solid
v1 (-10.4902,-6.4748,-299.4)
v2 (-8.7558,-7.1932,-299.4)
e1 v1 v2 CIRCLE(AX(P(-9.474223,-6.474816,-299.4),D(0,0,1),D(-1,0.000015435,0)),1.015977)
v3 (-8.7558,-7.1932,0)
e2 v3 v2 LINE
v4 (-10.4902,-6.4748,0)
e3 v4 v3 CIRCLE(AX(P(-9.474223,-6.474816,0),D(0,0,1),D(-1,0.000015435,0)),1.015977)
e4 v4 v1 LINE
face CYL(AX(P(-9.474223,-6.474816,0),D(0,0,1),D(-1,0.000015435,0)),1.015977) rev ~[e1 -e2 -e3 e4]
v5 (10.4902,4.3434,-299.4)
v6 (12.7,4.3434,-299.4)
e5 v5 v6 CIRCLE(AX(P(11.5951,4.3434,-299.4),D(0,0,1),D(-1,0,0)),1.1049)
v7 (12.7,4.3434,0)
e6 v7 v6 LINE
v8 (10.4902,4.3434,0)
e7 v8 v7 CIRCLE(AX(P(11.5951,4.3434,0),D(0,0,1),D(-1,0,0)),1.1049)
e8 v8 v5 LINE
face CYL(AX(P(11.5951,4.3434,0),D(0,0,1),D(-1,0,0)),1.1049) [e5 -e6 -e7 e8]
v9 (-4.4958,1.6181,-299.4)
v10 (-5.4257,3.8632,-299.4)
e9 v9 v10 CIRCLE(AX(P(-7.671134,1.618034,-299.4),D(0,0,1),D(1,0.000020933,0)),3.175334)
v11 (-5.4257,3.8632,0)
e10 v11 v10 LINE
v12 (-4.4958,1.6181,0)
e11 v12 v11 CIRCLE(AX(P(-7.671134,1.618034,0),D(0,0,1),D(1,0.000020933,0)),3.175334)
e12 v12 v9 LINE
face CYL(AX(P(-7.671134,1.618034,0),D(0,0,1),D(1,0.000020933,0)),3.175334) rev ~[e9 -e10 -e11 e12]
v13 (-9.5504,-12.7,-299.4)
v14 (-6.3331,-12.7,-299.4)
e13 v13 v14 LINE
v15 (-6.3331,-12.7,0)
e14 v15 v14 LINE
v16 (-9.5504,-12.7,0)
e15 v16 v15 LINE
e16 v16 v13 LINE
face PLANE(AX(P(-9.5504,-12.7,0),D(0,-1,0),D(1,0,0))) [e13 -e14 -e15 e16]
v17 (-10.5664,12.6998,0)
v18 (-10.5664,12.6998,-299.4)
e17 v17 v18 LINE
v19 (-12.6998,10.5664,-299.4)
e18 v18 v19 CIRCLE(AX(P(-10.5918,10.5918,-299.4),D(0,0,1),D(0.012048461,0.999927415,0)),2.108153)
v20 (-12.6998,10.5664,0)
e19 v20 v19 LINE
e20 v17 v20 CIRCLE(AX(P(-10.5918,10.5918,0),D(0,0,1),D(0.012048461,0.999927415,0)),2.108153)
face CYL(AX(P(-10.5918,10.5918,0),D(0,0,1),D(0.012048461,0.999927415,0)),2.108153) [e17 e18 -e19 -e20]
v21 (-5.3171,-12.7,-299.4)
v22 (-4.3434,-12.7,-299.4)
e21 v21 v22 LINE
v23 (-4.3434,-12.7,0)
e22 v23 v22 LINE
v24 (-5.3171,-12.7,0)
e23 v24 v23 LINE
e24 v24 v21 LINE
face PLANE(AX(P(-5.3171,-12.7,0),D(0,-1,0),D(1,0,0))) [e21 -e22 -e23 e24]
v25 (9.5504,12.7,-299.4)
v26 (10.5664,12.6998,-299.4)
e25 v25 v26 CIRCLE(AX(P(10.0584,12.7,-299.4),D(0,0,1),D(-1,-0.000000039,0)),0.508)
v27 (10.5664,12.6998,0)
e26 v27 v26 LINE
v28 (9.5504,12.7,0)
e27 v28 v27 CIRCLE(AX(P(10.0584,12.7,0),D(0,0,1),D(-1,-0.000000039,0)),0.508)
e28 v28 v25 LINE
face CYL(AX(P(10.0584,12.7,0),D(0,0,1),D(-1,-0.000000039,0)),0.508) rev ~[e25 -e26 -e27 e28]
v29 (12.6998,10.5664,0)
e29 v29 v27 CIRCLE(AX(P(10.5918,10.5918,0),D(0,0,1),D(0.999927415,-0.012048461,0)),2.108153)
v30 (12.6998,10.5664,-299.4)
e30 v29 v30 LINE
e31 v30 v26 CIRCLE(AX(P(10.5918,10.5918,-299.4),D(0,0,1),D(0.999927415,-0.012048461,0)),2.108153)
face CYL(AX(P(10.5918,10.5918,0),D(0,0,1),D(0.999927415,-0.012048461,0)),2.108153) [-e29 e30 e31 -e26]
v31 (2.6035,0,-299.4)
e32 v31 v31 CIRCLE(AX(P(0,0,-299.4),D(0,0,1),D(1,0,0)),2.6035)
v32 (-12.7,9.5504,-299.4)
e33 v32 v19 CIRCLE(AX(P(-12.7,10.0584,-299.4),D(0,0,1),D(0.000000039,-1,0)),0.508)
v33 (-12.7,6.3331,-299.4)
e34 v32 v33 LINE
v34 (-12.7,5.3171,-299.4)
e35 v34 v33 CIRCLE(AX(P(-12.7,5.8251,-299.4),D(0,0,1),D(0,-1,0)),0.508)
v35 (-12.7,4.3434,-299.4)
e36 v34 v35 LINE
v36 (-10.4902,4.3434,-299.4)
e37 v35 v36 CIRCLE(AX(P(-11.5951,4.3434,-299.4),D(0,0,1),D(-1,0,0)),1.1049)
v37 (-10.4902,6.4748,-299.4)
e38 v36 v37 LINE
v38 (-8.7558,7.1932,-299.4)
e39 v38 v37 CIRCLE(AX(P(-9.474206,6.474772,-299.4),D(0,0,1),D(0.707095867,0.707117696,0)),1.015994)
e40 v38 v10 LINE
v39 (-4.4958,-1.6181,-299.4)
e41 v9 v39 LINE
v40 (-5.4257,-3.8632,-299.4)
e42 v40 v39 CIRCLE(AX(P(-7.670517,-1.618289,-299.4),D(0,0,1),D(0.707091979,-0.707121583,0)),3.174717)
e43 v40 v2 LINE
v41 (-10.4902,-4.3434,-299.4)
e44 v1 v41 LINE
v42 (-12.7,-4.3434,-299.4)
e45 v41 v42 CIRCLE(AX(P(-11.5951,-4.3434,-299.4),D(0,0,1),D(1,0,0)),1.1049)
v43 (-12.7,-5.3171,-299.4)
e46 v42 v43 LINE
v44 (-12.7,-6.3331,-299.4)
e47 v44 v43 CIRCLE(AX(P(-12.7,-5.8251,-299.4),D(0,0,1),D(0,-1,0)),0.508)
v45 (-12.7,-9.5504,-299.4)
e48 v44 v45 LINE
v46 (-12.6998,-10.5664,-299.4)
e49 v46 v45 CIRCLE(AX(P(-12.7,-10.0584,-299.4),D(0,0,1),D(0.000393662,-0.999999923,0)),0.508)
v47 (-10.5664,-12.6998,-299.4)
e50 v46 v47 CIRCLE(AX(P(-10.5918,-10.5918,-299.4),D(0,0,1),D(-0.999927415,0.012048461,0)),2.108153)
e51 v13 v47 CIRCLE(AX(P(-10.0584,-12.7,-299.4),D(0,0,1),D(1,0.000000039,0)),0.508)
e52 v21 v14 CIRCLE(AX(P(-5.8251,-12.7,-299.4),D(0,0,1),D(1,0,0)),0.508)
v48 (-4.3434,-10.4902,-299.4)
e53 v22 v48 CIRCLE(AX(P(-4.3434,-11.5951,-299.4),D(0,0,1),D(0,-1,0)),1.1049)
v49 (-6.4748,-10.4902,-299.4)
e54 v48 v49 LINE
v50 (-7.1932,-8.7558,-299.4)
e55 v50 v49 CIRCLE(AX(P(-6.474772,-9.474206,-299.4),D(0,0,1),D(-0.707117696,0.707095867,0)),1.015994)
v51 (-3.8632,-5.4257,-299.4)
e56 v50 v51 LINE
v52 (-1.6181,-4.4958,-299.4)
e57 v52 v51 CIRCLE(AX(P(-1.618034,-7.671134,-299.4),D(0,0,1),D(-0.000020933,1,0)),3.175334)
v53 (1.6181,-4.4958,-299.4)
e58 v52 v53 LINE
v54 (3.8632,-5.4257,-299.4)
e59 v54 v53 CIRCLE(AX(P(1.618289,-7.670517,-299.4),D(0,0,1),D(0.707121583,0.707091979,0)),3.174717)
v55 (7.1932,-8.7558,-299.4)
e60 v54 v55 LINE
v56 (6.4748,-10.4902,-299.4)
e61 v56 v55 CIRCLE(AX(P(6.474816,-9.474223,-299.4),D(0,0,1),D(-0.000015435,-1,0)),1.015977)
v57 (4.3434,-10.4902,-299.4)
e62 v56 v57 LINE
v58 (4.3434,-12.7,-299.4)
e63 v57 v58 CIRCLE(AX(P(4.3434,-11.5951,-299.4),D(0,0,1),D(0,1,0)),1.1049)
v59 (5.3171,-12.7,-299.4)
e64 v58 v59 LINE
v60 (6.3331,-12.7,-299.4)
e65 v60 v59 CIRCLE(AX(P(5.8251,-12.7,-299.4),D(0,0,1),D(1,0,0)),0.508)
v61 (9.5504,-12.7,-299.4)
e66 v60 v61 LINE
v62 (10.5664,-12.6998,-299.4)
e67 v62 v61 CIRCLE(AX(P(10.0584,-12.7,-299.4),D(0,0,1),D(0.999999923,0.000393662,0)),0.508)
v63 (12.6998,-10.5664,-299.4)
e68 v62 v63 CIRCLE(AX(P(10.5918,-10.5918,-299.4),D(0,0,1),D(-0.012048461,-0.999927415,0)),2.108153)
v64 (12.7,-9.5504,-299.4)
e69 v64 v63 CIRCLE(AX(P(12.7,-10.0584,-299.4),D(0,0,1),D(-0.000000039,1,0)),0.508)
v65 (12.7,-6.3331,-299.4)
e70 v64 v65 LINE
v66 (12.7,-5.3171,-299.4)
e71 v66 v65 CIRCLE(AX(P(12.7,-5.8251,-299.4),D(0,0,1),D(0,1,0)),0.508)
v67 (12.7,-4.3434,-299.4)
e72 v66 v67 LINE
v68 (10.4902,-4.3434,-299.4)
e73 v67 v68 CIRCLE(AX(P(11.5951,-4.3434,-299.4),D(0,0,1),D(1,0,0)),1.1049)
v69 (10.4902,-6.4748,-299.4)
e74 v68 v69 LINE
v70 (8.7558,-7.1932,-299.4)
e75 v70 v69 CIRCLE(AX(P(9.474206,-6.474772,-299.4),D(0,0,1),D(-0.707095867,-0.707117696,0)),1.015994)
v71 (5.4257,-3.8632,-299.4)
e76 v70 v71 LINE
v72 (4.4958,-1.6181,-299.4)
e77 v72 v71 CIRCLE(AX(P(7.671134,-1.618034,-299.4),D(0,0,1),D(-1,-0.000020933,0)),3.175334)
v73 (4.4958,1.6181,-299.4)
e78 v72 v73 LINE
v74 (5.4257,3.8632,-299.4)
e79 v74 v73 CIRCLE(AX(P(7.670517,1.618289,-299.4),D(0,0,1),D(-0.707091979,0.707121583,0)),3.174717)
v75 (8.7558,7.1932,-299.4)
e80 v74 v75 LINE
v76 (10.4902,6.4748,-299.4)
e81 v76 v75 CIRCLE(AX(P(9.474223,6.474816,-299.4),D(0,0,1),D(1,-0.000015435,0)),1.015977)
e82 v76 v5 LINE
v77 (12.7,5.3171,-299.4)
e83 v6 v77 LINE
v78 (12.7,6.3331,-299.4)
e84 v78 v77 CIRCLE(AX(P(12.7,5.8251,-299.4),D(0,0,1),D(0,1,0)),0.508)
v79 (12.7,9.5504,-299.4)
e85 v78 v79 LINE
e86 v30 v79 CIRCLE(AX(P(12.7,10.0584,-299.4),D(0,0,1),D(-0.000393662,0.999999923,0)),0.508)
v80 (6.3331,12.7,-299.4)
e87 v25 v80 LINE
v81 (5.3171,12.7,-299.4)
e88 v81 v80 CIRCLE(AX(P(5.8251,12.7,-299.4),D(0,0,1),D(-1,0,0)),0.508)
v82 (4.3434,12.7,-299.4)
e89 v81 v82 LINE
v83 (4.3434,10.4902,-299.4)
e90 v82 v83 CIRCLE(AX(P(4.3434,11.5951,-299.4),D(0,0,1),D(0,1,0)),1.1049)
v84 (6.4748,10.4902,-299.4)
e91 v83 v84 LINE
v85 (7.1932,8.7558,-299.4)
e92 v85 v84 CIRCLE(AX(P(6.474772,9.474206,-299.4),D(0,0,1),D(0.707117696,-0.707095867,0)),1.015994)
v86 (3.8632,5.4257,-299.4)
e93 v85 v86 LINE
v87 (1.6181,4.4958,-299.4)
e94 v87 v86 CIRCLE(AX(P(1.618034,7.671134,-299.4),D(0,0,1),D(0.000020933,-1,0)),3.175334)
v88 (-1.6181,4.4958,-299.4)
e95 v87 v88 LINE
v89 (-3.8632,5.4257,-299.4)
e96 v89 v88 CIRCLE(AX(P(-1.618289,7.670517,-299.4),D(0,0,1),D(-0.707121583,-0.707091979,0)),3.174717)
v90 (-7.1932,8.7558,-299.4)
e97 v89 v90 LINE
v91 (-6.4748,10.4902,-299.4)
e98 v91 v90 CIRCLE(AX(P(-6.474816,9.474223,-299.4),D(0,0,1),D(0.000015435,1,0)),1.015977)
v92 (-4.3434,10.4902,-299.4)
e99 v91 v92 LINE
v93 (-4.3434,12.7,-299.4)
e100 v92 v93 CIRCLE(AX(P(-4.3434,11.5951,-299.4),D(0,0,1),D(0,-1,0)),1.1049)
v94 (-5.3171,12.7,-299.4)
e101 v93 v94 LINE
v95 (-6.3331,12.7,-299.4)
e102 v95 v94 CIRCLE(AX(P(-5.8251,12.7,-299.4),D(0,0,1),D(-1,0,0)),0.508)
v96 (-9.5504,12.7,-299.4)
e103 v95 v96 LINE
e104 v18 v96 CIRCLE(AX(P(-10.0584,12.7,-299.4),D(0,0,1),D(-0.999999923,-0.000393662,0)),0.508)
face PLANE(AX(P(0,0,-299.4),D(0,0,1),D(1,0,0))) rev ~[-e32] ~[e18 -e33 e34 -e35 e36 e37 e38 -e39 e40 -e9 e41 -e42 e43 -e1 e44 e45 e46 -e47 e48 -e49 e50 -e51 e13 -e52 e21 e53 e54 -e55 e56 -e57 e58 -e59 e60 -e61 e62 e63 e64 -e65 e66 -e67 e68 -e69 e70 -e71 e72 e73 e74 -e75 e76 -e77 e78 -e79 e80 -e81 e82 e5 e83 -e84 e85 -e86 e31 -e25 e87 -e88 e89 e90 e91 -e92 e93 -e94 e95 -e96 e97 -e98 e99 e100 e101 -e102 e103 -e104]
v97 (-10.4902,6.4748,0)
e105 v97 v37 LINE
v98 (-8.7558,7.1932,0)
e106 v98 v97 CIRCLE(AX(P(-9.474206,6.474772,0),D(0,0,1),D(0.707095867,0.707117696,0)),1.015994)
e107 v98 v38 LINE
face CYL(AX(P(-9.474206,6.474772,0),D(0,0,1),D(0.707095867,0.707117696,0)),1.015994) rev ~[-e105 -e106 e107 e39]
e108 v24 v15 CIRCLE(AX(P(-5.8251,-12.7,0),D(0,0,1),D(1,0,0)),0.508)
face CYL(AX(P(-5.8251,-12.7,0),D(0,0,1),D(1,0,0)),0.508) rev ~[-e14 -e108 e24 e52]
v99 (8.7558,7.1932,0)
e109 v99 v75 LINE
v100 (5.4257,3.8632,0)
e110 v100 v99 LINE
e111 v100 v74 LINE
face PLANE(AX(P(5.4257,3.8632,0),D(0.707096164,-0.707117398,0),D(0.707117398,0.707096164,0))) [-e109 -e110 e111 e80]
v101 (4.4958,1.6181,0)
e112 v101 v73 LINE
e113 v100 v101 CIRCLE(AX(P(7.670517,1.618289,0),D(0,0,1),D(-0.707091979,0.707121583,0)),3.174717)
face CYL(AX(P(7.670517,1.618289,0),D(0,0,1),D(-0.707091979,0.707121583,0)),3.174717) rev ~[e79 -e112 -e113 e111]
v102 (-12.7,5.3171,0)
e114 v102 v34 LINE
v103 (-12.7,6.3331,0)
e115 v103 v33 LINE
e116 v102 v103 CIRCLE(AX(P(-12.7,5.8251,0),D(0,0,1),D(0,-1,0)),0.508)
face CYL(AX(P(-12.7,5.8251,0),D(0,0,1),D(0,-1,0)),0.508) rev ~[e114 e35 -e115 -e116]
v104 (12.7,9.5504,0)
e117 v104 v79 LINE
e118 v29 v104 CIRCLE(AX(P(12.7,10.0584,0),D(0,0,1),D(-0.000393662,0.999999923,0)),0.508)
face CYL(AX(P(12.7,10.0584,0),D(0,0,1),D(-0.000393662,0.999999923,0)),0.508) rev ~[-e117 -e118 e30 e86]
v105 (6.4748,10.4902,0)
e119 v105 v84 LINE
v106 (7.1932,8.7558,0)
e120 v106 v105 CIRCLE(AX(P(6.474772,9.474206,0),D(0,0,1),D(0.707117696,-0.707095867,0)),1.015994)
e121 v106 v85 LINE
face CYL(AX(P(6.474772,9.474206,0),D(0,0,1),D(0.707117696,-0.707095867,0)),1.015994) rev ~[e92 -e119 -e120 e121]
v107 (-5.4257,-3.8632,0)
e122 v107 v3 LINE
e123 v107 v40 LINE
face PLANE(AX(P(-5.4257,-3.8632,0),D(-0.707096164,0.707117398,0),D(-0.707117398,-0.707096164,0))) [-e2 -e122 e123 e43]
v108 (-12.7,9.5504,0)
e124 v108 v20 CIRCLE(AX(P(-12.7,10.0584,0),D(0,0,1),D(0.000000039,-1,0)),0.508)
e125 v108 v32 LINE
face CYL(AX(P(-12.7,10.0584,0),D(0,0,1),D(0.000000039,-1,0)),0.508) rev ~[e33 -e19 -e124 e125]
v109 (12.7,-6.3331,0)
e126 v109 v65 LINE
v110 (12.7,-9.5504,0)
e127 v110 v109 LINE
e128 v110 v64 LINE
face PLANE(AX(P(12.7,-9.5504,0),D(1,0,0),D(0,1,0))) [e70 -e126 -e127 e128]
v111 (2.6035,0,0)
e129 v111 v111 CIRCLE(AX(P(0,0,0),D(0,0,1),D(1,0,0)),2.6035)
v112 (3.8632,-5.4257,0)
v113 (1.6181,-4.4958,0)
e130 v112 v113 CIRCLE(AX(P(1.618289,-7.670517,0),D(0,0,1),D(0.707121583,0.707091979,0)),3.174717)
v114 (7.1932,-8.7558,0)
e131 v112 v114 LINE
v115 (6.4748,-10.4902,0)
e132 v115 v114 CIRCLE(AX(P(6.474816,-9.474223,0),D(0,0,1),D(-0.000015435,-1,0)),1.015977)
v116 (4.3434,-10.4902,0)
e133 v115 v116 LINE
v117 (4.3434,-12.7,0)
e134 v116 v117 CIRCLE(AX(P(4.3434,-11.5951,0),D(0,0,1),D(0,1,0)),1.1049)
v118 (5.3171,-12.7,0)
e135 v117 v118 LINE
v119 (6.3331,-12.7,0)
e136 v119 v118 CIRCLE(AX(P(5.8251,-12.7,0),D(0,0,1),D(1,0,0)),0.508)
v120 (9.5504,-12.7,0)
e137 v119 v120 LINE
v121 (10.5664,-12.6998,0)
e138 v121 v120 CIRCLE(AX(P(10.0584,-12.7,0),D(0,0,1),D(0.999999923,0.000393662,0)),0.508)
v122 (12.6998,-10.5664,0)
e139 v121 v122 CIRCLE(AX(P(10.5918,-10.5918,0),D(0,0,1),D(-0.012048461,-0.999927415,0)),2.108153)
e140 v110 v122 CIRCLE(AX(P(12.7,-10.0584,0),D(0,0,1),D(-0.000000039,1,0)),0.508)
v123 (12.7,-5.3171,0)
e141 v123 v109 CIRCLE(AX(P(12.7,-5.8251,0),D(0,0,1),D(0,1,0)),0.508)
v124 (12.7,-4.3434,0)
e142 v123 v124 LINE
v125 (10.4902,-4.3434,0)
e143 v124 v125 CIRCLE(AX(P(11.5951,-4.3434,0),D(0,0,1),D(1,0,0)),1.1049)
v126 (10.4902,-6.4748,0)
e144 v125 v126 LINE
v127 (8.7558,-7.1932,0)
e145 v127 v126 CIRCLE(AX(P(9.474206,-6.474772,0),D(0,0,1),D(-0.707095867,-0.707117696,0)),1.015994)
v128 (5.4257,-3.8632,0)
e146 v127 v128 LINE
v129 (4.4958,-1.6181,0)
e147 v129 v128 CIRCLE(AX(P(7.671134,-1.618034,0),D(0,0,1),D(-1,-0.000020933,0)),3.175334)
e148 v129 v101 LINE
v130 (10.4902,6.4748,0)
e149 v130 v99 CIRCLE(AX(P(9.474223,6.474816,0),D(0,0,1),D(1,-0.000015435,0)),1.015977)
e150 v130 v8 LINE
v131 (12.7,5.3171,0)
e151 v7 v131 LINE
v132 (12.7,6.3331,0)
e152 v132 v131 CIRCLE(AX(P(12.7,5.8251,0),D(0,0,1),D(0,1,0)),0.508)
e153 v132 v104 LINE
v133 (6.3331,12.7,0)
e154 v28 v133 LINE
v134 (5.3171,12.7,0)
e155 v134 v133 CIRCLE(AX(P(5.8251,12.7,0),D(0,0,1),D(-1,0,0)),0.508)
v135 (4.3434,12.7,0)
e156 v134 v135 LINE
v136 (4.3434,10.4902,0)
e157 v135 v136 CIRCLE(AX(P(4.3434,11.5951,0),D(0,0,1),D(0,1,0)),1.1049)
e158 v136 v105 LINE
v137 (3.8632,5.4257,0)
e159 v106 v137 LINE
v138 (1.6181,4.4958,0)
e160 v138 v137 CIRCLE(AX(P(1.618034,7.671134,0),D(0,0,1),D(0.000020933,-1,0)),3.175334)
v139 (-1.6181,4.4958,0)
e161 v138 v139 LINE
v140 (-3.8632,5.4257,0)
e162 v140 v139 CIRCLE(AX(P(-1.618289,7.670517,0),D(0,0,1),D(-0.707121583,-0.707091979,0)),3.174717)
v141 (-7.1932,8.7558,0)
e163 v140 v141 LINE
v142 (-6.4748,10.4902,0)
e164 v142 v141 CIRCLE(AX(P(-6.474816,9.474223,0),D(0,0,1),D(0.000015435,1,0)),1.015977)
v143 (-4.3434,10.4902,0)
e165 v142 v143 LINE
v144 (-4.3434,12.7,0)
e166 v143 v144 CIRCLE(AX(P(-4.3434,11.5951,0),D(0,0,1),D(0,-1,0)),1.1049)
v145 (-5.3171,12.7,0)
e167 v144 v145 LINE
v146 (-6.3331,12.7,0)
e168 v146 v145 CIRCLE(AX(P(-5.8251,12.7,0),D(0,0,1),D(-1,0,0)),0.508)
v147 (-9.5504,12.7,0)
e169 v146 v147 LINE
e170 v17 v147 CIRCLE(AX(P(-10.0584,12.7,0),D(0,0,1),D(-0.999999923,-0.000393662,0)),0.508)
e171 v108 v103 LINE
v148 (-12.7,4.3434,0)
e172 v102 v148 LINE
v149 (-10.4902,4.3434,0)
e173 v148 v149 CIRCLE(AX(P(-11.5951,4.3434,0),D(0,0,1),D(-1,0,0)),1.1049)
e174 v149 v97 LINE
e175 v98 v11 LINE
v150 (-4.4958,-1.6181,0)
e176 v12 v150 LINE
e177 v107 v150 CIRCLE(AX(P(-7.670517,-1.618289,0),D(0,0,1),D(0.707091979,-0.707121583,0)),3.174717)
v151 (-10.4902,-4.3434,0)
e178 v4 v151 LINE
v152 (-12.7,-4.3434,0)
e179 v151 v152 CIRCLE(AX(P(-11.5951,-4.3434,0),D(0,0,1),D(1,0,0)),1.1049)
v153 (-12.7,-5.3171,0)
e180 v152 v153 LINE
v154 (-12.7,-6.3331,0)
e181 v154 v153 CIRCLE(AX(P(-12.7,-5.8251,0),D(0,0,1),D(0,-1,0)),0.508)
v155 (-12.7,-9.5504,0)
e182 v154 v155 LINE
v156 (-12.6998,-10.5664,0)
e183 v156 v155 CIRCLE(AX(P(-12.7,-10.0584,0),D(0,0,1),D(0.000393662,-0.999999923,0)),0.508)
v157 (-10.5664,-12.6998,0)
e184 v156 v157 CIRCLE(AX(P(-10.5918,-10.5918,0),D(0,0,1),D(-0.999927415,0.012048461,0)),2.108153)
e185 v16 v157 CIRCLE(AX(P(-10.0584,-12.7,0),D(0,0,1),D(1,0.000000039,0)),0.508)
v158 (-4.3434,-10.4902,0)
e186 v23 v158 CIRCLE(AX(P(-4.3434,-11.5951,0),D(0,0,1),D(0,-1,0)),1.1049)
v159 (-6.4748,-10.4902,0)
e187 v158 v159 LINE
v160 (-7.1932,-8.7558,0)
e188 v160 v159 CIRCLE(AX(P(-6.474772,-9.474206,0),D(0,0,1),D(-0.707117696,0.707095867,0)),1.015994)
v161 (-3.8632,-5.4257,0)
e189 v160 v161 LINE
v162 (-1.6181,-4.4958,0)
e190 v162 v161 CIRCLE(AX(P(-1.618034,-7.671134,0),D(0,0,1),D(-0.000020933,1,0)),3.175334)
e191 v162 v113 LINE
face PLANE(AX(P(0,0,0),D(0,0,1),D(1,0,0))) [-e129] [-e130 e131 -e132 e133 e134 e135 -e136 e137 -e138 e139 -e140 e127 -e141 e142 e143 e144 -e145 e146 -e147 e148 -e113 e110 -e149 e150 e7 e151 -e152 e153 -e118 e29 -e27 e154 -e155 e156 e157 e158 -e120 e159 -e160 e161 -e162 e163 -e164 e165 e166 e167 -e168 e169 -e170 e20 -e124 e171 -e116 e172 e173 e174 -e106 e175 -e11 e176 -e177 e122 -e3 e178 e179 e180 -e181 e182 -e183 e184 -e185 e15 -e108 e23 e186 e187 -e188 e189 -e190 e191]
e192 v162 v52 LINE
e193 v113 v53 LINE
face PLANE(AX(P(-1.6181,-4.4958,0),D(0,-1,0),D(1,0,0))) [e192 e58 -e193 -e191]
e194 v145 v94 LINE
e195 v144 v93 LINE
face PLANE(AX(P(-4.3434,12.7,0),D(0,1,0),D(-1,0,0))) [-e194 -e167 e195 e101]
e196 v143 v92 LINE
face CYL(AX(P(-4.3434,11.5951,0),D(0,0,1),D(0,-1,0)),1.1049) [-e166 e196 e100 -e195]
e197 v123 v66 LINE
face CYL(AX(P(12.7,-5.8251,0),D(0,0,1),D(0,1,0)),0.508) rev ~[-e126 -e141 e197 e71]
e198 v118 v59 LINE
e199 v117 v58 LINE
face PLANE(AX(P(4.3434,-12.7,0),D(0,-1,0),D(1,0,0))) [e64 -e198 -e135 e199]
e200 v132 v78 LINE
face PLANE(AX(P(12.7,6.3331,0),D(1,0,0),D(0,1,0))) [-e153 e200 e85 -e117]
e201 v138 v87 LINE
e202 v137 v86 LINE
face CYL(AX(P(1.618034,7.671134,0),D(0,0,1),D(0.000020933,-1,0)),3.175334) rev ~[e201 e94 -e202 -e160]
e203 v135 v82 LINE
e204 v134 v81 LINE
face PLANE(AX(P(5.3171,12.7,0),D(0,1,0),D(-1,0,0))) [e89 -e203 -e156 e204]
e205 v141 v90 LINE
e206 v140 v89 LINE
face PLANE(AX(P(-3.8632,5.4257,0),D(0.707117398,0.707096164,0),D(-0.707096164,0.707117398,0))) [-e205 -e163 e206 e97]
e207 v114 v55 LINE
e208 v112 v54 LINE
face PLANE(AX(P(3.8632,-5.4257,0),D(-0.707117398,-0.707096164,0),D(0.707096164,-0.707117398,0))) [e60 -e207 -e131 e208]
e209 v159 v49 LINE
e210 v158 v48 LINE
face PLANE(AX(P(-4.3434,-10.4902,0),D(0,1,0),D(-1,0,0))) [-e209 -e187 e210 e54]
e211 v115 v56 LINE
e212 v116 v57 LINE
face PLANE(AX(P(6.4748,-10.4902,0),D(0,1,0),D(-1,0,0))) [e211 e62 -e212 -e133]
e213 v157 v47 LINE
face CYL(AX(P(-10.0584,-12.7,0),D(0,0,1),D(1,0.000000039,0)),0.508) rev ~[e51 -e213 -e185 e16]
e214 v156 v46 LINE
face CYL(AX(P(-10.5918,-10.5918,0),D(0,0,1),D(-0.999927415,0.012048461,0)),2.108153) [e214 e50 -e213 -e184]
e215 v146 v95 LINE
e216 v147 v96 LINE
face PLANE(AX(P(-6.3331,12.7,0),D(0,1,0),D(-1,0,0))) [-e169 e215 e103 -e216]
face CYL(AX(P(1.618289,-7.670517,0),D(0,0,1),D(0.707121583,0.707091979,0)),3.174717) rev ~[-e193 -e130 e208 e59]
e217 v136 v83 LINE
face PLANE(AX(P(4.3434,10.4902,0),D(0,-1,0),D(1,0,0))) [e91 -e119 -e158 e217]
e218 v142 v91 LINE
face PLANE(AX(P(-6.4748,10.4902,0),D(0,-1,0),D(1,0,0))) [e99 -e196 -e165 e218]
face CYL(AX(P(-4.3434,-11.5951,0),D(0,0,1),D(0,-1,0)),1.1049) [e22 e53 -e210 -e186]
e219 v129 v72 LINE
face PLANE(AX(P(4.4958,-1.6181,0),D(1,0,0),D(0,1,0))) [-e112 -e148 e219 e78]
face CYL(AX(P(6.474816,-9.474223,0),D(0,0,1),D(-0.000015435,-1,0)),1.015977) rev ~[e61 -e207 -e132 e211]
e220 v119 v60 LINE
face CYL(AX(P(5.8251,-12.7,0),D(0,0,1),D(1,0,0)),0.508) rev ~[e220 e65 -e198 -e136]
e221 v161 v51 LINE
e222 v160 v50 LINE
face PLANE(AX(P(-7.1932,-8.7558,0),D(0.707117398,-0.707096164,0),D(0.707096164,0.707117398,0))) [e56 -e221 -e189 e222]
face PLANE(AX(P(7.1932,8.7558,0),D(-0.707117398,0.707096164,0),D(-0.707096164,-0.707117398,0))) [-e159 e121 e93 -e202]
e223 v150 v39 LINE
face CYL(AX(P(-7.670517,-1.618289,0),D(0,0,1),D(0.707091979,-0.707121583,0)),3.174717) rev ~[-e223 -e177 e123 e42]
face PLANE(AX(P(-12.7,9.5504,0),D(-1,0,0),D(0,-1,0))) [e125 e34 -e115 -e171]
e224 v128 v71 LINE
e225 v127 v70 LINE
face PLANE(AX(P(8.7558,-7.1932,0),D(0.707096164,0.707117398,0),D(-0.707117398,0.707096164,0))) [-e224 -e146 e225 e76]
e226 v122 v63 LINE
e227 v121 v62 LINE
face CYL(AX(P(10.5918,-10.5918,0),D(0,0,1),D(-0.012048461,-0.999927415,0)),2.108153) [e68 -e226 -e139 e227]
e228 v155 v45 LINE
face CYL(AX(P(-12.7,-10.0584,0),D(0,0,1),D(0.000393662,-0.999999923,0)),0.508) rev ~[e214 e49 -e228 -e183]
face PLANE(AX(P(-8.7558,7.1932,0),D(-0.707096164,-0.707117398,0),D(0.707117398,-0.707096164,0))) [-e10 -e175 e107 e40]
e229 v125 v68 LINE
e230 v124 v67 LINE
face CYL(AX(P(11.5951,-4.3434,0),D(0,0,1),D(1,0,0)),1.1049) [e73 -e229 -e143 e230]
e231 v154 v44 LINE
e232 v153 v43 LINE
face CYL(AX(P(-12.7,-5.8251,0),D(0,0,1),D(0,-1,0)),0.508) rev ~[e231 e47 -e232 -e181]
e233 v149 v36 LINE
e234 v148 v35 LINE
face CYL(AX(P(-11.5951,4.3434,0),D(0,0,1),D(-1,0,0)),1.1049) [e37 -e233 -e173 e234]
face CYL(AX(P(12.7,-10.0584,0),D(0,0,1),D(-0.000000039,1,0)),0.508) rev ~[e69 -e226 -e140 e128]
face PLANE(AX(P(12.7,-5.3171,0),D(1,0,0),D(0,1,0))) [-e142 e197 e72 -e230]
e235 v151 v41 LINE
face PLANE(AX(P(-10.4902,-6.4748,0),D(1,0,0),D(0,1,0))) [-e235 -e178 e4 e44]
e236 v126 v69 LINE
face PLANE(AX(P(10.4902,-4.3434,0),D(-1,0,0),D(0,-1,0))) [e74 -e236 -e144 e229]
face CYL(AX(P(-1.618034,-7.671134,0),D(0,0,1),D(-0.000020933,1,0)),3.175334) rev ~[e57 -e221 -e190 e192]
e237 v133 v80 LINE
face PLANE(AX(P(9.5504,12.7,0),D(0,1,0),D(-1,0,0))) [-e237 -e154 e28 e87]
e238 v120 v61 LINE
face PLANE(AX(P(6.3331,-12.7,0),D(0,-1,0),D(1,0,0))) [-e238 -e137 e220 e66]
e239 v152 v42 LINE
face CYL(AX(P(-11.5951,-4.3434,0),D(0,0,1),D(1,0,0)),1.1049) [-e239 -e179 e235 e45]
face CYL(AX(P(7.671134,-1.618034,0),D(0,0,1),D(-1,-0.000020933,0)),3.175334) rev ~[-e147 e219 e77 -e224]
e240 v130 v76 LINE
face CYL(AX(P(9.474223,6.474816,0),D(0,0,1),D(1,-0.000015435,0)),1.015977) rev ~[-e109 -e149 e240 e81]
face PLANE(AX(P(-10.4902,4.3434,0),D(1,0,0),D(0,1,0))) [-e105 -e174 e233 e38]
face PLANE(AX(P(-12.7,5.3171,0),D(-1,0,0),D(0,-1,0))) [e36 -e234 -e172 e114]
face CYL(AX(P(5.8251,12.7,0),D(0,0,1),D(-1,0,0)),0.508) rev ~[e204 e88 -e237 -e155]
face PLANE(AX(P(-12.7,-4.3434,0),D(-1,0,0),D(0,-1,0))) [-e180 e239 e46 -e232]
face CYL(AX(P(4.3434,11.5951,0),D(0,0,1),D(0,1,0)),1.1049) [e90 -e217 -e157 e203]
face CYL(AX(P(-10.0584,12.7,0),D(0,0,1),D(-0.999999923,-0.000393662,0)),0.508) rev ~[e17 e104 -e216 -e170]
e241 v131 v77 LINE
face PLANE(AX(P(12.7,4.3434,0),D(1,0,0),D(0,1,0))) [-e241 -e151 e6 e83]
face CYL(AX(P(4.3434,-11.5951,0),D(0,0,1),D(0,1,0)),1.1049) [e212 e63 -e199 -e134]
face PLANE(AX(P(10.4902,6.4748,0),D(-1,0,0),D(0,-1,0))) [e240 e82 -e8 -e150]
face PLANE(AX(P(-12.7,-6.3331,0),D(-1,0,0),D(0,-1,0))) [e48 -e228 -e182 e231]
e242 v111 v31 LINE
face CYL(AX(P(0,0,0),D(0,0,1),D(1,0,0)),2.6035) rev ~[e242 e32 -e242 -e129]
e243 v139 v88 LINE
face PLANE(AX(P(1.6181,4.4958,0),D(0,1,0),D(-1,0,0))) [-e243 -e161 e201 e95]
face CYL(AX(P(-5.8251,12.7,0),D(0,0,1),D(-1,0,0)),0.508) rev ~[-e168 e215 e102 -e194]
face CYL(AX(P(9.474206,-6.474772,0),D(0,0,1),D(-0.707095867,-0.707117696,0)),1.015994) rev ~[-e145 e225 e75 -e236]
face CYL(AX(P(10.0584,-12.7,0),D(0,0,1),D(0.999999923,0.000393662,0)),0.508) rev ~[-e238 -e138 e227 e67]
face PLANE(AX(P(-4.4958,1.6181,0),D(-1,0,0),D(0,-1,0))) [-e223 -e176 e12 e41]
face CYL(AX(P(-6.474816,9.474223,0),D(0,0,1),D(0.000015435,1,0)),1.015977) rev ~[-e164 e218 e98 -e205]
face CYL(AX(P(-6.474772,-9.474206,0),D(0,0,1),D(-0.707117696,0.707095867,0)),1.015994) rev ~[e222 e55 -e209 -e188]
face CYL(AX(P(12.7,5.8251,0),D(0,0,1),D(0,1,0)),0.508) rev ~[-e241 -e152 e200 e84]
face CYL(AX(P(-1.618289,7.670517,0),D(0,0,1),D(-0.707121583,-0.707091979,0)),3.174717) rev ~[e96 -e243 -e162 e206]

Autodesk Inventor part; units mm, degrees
sketch "Sketch_1" plane through (0, 0, 0) normal (0, 0, 1) x (1, 0, 0)
  arc A0 (-12.6998, -10.5664) -> (-10.5664, -12.6998) centre (-10.5918, -10.5918) ccw
  arc A1 (-9.5504, -12.7) -> (-10.5664, -12.6998) centre (-10.0584, -12.7) ccw
  line L0 (-9.5504, -12.7) -> (-6.3331, -12.7)
  arc A2 (-5.3171, -12.7) -> (-6.3331, -12.7) centre (-5.8251, -12.7) ccw
  line L1 (-5.3171, -12.7) -> (-4.3434, -12.7)
  arc A3 (-4.3434, -12.7) -> (-4.3434, -10.4902) centre (-4.3434, -11.5951) ccw
  line L2 (-4.3434, -10.4902) -> (-6.4748, -10.4902)
  arc A4 (-7.1932, -8.7558) -> (-6.4748, -10.4902) centre (-6.4748, -9.4742) ccw
  line L3 (-7.1932, -8.7558) -> (-3.8632, -5.4257)
  arc A5 (-1.6181, -4.4958) -> (-3.8632, -5.4257) centre (-1.6181, -7.6708) ccw
  line L4 (-1.6181, -4.4958) -> (1.6181, -4.4958)
  arc A6 (3.8632, -5.4257) -> (1.6181, -4.4958) centre (1.6181, -7.6708) ccw
  line L5 (3.8632, -5.4257) -> (7.1932, -8.7558)
  arc A7 (6.4748, -10.4902) -> (7.1932, -8.7558) centre (6.4748, -9.4742) ccw
  line L6 (6.4748, -10.4902) -> (4.3434, -10.4902)
  arc A8 (4.3434, -10.4902) -> (4.3434, -12.7) centre (4.3434, -11.5951) ccw
  line L7 (4.3434, -12.7) -> (5.3171, -12.7)
  arc A9 (6.3331, -12.7) -> (5.3171, -12.7) centre (5.8251, -12.7) ccw
  line L8 (6.3331, -12.7) -> (9.5504, -12.7)
  arc A10 (10.5664, -12.6998) -> (9.5504, -12.7) centre (10.0584, -12.7) ccw
  arc A11 (10.5664, -12.6998) -> (12.6998, -10.5664) centre (10.5918, -10.5918) ccw
  arc A12 (12.7, -9.5504) -> (12.6998, -10.5664) centre (12.7, -10.0584) ccw
  line L9 (12.7, -9.5504) -> (12.7, -6.3331)
  arc A13 (12.7, -5.3171) -> (12.7, -6.3331) centre (12.7, -5.8251) ccw
  line L10 (12.7, -5.3171) -> (12.7, -4.3434)
  arc A14 (12.7, -4.3434) -> (10.4902, -4.3434) centre (11.5951, -4.3434) ccw
  line L11 (10.4902, -4.3434) -> (10.4902, -6.4748)
  arc A15 (8.7558, -7.1932) -> (10.4902, -6.4748) centre (9.4742, -6.4748) ccw
  line L12 (8.7558, -7.1932) -> (5.4257, -3.8632)
  arc A16 (4.4958, -1.6181) -> (5.4257, -3.8632) centre (7.6708, -1.6181) ccw
  line L13 (4.4958, -1.6181) -> (4.4958, 1.6181)
  arc A17 (5.4257, 3.8632) -> (4.4958, 1.6181) centre (7.6708, 1.6181) ccw
  line L14 (5.4257, 3.8632) -> (8.7558, 7.1932)
  arc A18 (10.4902, 6.4748) -> (8.7558, 7.1932) centre (9.4742, 6.4748) ccw
  line L15 (10.4902, 6.4748) -> (10.4902, 4.3434)
  arc A19 (10.4902, 4.3434) -> (12.7, 4.3434) centre (11.5951, 4.3434) ccw
  line L16 (12.7, 4.3434) -> (12.7, 5.3171)
  arc A20 (12.7, 6.3331) -> (12.7, 5.3171) centre (12.7, 5.8251) ccw
  line L17 (12.7, 6.3331) -> (12.7, 9.5504)
  arc A21 (12.6998, 10.5664) -> (12.7, 9.5504) centre (12.7, 10.0584) ccw
  arc A22 (12.6998, 10.5664) -> (10.5664, 12.6998) centre (10.5918, 10.5918) ccw
  arc A23 (9.5504, 12.7) -> (10.5664, 12.6998) centre (10.0584, 12.7) ccw
  line L18 (9.5504, 12.7) -> (6.3331, 12.7)
  arc A24 (5.3171, 12.7) -> (6.3331, 12.7) centre (5.8251, 12.7) ccw
  line L19 (5.3171, 12.7) -> (4.3434, 12.7)
  arc A25 (4.3434, 12.7) -> (4.3434, 10.4902) centre (4.3434, 11.5951) ccw
  line L20 (4.3434, 10.4902) -> (6.4748, 10.4902)
  arc A26 (7.1932, 8.7558) -> (6.4748, 10.4902) centre (6.4748, 9.4742) ccw
  line L21 (7.1932, 8.7558) -> (3.8632, 5.4257)
  arc A27 (1.6181, 4.4958) -> (3.8632, 5.4257) centre (1.6181, 7.6708) ccw
  line L22 (1.6181, 4.4958) -> (-1.6181, 4.4958)
  arc A28 (-3.8632, 5.4257) -> (-1.6181, 4.4958) centre (-1.6181, 7.6708) ccw
  line L23 (-3.8632, 5.4257) -> (-7.1932, 8.7558)
  arc A29 (-6.4748, 10.4902) -> (-7.1932, 8.7558) centre (-6.4748, 9.4742) ccw
  line L24 (-6.4748, 10.4902) -> (-4.3434, 10.4902)
  arc A30 (-4.3434, 10.4902) -> (-4.3434, 12.7) centre (-4.3434, 11.5951) ccw
  line L25 (-4.3434, 12.7) -> (-5.3171, 12.7)
  arc A31 (-6.3331, 12.7) -> (-5.3171, 12.7) centre (-5.8251, 12.7) ccw
  line L26 (-6.3331, 12.7) -> (-9.5504, 12.7)
  arc A32 (-10.5664, 12.6998) -> (-9.5504, 12.7) centre (-10.0584, 12.7) ccw
  arc A33 (-10.5664, 12.6998) -> (-12.6998, 10.5664) centre (-10.5918, 10.5918) ccw
  arc A34 (-12.7, 9.5504) -> (-12.6998, 10.5664) centre (-12.7, 10.0584) ccw
  line L27 (-12.7, 9.5504) -> (-12.7, 6.3331)
  arc A35 (-12.7, 5.3171) -> (-12.7, 6.3331) centre (-12.7, 5.8251) ccw
  line L28 (-12.7, 5.3171) -> (-12.7, 4.3434)
  arc A36 (-12.7, 4.3434) -> (-10.4902, 4.3434) centre (-11.5951, 4.3434) ccw
  line L29 (-10.4902, 4.3434) -> (-10.4902, 6.4748)
  arc A37 (-8.7558, 7.1932) -> (-10.4902, 6.4748) centre (-9.4742, 6.4748) ccw
  line L30 (-8.7558, 7.1932) -> (-5.4257, 3.8632)
  arc A38 (-4.4958, 1.6181) -> (-5.4257, 3.8632) centre (-7.6708, 1.6181) ccw
  line L31 (-4.4958, 1.6181) -> (-4.4958, -1.6181)
  arc A39 (-5.4257, -3.8632) -> (-4.4958, -1.6181) centre (-7.6708, -1.6181) ccw
  line L32 (-5.4257, -3.8632) -> (-8.7558, -7.1932)
  arc A40 (-10.4902, -6.4748) -> (-8.7558, -7.1932) centre (-9.4742, -6.4748) ccw
  line L33 (-10.4902, -6.4748) -> (-10.4902, -4.3434)
  arc A41 (-10.4902, -4.3434) -> (-12.7, -4.3434) centre (-11.5951, -4.3434) ccw
  line L34 (-12.7, -4.3434) -> (-12.7, -5.3171)
  arc A42 (-12.7, -6.3331) -> (-12.7, -5.3171) centre (-12.7, -5.8251) ccw
  line L35 (-12.7, -6.3331) -> (-12.7, -9.5504)
  arc A43 (-12.6998, -10.5664) -> (-12.7, -9.5504) centre (-12.7, -10.0584) ccw
  circle A44 centre (0, 0) radius 2.6035
extrude "Extrusion1" add sketch "Sketch_1" against normal blind 299.4
ref_plane "b1_XY" through (-12.7, 0, -12.7) normal (1, 0, 0) x (0, 0, -1)
ref_plane "b1_YZ" through (-12.7, 0, -12.7) normal (0, 0, -1) x (0, 1, 0)
ref_plane "b1_ZX" through (-12.7, 0, -12.7) normal (0, 1, 0) x (1, 0, 0)
ref_plane "b2_XY" through (12.7, 0, -12.7) normal (1, 0, 0) x (0, 0, -1)
ref_plane "b2_YZ" through (12.7, 0, -12.7) normal (0, 0, -1) x (0, 1, 0)
ref_plane "b2_ZX" through (12.7, 0, -12.7) normal (0, 1, 0) x (1, 0, 0)
ref_plane "profile1010_XY" through (0, 0, -12.7) normal (0, 0, 1) x (1, 0, 0)
ref_plane "profile1010_YZ" through (0, 0, -12.7) normal (1, 0, 0) x (0, 1, 0)
ref_plane "profile1010_ZX" through (0, 0, -12.7) normal (0, 1, 0) x (0, 0, 1)
properties part number "1010_244_9mm"
